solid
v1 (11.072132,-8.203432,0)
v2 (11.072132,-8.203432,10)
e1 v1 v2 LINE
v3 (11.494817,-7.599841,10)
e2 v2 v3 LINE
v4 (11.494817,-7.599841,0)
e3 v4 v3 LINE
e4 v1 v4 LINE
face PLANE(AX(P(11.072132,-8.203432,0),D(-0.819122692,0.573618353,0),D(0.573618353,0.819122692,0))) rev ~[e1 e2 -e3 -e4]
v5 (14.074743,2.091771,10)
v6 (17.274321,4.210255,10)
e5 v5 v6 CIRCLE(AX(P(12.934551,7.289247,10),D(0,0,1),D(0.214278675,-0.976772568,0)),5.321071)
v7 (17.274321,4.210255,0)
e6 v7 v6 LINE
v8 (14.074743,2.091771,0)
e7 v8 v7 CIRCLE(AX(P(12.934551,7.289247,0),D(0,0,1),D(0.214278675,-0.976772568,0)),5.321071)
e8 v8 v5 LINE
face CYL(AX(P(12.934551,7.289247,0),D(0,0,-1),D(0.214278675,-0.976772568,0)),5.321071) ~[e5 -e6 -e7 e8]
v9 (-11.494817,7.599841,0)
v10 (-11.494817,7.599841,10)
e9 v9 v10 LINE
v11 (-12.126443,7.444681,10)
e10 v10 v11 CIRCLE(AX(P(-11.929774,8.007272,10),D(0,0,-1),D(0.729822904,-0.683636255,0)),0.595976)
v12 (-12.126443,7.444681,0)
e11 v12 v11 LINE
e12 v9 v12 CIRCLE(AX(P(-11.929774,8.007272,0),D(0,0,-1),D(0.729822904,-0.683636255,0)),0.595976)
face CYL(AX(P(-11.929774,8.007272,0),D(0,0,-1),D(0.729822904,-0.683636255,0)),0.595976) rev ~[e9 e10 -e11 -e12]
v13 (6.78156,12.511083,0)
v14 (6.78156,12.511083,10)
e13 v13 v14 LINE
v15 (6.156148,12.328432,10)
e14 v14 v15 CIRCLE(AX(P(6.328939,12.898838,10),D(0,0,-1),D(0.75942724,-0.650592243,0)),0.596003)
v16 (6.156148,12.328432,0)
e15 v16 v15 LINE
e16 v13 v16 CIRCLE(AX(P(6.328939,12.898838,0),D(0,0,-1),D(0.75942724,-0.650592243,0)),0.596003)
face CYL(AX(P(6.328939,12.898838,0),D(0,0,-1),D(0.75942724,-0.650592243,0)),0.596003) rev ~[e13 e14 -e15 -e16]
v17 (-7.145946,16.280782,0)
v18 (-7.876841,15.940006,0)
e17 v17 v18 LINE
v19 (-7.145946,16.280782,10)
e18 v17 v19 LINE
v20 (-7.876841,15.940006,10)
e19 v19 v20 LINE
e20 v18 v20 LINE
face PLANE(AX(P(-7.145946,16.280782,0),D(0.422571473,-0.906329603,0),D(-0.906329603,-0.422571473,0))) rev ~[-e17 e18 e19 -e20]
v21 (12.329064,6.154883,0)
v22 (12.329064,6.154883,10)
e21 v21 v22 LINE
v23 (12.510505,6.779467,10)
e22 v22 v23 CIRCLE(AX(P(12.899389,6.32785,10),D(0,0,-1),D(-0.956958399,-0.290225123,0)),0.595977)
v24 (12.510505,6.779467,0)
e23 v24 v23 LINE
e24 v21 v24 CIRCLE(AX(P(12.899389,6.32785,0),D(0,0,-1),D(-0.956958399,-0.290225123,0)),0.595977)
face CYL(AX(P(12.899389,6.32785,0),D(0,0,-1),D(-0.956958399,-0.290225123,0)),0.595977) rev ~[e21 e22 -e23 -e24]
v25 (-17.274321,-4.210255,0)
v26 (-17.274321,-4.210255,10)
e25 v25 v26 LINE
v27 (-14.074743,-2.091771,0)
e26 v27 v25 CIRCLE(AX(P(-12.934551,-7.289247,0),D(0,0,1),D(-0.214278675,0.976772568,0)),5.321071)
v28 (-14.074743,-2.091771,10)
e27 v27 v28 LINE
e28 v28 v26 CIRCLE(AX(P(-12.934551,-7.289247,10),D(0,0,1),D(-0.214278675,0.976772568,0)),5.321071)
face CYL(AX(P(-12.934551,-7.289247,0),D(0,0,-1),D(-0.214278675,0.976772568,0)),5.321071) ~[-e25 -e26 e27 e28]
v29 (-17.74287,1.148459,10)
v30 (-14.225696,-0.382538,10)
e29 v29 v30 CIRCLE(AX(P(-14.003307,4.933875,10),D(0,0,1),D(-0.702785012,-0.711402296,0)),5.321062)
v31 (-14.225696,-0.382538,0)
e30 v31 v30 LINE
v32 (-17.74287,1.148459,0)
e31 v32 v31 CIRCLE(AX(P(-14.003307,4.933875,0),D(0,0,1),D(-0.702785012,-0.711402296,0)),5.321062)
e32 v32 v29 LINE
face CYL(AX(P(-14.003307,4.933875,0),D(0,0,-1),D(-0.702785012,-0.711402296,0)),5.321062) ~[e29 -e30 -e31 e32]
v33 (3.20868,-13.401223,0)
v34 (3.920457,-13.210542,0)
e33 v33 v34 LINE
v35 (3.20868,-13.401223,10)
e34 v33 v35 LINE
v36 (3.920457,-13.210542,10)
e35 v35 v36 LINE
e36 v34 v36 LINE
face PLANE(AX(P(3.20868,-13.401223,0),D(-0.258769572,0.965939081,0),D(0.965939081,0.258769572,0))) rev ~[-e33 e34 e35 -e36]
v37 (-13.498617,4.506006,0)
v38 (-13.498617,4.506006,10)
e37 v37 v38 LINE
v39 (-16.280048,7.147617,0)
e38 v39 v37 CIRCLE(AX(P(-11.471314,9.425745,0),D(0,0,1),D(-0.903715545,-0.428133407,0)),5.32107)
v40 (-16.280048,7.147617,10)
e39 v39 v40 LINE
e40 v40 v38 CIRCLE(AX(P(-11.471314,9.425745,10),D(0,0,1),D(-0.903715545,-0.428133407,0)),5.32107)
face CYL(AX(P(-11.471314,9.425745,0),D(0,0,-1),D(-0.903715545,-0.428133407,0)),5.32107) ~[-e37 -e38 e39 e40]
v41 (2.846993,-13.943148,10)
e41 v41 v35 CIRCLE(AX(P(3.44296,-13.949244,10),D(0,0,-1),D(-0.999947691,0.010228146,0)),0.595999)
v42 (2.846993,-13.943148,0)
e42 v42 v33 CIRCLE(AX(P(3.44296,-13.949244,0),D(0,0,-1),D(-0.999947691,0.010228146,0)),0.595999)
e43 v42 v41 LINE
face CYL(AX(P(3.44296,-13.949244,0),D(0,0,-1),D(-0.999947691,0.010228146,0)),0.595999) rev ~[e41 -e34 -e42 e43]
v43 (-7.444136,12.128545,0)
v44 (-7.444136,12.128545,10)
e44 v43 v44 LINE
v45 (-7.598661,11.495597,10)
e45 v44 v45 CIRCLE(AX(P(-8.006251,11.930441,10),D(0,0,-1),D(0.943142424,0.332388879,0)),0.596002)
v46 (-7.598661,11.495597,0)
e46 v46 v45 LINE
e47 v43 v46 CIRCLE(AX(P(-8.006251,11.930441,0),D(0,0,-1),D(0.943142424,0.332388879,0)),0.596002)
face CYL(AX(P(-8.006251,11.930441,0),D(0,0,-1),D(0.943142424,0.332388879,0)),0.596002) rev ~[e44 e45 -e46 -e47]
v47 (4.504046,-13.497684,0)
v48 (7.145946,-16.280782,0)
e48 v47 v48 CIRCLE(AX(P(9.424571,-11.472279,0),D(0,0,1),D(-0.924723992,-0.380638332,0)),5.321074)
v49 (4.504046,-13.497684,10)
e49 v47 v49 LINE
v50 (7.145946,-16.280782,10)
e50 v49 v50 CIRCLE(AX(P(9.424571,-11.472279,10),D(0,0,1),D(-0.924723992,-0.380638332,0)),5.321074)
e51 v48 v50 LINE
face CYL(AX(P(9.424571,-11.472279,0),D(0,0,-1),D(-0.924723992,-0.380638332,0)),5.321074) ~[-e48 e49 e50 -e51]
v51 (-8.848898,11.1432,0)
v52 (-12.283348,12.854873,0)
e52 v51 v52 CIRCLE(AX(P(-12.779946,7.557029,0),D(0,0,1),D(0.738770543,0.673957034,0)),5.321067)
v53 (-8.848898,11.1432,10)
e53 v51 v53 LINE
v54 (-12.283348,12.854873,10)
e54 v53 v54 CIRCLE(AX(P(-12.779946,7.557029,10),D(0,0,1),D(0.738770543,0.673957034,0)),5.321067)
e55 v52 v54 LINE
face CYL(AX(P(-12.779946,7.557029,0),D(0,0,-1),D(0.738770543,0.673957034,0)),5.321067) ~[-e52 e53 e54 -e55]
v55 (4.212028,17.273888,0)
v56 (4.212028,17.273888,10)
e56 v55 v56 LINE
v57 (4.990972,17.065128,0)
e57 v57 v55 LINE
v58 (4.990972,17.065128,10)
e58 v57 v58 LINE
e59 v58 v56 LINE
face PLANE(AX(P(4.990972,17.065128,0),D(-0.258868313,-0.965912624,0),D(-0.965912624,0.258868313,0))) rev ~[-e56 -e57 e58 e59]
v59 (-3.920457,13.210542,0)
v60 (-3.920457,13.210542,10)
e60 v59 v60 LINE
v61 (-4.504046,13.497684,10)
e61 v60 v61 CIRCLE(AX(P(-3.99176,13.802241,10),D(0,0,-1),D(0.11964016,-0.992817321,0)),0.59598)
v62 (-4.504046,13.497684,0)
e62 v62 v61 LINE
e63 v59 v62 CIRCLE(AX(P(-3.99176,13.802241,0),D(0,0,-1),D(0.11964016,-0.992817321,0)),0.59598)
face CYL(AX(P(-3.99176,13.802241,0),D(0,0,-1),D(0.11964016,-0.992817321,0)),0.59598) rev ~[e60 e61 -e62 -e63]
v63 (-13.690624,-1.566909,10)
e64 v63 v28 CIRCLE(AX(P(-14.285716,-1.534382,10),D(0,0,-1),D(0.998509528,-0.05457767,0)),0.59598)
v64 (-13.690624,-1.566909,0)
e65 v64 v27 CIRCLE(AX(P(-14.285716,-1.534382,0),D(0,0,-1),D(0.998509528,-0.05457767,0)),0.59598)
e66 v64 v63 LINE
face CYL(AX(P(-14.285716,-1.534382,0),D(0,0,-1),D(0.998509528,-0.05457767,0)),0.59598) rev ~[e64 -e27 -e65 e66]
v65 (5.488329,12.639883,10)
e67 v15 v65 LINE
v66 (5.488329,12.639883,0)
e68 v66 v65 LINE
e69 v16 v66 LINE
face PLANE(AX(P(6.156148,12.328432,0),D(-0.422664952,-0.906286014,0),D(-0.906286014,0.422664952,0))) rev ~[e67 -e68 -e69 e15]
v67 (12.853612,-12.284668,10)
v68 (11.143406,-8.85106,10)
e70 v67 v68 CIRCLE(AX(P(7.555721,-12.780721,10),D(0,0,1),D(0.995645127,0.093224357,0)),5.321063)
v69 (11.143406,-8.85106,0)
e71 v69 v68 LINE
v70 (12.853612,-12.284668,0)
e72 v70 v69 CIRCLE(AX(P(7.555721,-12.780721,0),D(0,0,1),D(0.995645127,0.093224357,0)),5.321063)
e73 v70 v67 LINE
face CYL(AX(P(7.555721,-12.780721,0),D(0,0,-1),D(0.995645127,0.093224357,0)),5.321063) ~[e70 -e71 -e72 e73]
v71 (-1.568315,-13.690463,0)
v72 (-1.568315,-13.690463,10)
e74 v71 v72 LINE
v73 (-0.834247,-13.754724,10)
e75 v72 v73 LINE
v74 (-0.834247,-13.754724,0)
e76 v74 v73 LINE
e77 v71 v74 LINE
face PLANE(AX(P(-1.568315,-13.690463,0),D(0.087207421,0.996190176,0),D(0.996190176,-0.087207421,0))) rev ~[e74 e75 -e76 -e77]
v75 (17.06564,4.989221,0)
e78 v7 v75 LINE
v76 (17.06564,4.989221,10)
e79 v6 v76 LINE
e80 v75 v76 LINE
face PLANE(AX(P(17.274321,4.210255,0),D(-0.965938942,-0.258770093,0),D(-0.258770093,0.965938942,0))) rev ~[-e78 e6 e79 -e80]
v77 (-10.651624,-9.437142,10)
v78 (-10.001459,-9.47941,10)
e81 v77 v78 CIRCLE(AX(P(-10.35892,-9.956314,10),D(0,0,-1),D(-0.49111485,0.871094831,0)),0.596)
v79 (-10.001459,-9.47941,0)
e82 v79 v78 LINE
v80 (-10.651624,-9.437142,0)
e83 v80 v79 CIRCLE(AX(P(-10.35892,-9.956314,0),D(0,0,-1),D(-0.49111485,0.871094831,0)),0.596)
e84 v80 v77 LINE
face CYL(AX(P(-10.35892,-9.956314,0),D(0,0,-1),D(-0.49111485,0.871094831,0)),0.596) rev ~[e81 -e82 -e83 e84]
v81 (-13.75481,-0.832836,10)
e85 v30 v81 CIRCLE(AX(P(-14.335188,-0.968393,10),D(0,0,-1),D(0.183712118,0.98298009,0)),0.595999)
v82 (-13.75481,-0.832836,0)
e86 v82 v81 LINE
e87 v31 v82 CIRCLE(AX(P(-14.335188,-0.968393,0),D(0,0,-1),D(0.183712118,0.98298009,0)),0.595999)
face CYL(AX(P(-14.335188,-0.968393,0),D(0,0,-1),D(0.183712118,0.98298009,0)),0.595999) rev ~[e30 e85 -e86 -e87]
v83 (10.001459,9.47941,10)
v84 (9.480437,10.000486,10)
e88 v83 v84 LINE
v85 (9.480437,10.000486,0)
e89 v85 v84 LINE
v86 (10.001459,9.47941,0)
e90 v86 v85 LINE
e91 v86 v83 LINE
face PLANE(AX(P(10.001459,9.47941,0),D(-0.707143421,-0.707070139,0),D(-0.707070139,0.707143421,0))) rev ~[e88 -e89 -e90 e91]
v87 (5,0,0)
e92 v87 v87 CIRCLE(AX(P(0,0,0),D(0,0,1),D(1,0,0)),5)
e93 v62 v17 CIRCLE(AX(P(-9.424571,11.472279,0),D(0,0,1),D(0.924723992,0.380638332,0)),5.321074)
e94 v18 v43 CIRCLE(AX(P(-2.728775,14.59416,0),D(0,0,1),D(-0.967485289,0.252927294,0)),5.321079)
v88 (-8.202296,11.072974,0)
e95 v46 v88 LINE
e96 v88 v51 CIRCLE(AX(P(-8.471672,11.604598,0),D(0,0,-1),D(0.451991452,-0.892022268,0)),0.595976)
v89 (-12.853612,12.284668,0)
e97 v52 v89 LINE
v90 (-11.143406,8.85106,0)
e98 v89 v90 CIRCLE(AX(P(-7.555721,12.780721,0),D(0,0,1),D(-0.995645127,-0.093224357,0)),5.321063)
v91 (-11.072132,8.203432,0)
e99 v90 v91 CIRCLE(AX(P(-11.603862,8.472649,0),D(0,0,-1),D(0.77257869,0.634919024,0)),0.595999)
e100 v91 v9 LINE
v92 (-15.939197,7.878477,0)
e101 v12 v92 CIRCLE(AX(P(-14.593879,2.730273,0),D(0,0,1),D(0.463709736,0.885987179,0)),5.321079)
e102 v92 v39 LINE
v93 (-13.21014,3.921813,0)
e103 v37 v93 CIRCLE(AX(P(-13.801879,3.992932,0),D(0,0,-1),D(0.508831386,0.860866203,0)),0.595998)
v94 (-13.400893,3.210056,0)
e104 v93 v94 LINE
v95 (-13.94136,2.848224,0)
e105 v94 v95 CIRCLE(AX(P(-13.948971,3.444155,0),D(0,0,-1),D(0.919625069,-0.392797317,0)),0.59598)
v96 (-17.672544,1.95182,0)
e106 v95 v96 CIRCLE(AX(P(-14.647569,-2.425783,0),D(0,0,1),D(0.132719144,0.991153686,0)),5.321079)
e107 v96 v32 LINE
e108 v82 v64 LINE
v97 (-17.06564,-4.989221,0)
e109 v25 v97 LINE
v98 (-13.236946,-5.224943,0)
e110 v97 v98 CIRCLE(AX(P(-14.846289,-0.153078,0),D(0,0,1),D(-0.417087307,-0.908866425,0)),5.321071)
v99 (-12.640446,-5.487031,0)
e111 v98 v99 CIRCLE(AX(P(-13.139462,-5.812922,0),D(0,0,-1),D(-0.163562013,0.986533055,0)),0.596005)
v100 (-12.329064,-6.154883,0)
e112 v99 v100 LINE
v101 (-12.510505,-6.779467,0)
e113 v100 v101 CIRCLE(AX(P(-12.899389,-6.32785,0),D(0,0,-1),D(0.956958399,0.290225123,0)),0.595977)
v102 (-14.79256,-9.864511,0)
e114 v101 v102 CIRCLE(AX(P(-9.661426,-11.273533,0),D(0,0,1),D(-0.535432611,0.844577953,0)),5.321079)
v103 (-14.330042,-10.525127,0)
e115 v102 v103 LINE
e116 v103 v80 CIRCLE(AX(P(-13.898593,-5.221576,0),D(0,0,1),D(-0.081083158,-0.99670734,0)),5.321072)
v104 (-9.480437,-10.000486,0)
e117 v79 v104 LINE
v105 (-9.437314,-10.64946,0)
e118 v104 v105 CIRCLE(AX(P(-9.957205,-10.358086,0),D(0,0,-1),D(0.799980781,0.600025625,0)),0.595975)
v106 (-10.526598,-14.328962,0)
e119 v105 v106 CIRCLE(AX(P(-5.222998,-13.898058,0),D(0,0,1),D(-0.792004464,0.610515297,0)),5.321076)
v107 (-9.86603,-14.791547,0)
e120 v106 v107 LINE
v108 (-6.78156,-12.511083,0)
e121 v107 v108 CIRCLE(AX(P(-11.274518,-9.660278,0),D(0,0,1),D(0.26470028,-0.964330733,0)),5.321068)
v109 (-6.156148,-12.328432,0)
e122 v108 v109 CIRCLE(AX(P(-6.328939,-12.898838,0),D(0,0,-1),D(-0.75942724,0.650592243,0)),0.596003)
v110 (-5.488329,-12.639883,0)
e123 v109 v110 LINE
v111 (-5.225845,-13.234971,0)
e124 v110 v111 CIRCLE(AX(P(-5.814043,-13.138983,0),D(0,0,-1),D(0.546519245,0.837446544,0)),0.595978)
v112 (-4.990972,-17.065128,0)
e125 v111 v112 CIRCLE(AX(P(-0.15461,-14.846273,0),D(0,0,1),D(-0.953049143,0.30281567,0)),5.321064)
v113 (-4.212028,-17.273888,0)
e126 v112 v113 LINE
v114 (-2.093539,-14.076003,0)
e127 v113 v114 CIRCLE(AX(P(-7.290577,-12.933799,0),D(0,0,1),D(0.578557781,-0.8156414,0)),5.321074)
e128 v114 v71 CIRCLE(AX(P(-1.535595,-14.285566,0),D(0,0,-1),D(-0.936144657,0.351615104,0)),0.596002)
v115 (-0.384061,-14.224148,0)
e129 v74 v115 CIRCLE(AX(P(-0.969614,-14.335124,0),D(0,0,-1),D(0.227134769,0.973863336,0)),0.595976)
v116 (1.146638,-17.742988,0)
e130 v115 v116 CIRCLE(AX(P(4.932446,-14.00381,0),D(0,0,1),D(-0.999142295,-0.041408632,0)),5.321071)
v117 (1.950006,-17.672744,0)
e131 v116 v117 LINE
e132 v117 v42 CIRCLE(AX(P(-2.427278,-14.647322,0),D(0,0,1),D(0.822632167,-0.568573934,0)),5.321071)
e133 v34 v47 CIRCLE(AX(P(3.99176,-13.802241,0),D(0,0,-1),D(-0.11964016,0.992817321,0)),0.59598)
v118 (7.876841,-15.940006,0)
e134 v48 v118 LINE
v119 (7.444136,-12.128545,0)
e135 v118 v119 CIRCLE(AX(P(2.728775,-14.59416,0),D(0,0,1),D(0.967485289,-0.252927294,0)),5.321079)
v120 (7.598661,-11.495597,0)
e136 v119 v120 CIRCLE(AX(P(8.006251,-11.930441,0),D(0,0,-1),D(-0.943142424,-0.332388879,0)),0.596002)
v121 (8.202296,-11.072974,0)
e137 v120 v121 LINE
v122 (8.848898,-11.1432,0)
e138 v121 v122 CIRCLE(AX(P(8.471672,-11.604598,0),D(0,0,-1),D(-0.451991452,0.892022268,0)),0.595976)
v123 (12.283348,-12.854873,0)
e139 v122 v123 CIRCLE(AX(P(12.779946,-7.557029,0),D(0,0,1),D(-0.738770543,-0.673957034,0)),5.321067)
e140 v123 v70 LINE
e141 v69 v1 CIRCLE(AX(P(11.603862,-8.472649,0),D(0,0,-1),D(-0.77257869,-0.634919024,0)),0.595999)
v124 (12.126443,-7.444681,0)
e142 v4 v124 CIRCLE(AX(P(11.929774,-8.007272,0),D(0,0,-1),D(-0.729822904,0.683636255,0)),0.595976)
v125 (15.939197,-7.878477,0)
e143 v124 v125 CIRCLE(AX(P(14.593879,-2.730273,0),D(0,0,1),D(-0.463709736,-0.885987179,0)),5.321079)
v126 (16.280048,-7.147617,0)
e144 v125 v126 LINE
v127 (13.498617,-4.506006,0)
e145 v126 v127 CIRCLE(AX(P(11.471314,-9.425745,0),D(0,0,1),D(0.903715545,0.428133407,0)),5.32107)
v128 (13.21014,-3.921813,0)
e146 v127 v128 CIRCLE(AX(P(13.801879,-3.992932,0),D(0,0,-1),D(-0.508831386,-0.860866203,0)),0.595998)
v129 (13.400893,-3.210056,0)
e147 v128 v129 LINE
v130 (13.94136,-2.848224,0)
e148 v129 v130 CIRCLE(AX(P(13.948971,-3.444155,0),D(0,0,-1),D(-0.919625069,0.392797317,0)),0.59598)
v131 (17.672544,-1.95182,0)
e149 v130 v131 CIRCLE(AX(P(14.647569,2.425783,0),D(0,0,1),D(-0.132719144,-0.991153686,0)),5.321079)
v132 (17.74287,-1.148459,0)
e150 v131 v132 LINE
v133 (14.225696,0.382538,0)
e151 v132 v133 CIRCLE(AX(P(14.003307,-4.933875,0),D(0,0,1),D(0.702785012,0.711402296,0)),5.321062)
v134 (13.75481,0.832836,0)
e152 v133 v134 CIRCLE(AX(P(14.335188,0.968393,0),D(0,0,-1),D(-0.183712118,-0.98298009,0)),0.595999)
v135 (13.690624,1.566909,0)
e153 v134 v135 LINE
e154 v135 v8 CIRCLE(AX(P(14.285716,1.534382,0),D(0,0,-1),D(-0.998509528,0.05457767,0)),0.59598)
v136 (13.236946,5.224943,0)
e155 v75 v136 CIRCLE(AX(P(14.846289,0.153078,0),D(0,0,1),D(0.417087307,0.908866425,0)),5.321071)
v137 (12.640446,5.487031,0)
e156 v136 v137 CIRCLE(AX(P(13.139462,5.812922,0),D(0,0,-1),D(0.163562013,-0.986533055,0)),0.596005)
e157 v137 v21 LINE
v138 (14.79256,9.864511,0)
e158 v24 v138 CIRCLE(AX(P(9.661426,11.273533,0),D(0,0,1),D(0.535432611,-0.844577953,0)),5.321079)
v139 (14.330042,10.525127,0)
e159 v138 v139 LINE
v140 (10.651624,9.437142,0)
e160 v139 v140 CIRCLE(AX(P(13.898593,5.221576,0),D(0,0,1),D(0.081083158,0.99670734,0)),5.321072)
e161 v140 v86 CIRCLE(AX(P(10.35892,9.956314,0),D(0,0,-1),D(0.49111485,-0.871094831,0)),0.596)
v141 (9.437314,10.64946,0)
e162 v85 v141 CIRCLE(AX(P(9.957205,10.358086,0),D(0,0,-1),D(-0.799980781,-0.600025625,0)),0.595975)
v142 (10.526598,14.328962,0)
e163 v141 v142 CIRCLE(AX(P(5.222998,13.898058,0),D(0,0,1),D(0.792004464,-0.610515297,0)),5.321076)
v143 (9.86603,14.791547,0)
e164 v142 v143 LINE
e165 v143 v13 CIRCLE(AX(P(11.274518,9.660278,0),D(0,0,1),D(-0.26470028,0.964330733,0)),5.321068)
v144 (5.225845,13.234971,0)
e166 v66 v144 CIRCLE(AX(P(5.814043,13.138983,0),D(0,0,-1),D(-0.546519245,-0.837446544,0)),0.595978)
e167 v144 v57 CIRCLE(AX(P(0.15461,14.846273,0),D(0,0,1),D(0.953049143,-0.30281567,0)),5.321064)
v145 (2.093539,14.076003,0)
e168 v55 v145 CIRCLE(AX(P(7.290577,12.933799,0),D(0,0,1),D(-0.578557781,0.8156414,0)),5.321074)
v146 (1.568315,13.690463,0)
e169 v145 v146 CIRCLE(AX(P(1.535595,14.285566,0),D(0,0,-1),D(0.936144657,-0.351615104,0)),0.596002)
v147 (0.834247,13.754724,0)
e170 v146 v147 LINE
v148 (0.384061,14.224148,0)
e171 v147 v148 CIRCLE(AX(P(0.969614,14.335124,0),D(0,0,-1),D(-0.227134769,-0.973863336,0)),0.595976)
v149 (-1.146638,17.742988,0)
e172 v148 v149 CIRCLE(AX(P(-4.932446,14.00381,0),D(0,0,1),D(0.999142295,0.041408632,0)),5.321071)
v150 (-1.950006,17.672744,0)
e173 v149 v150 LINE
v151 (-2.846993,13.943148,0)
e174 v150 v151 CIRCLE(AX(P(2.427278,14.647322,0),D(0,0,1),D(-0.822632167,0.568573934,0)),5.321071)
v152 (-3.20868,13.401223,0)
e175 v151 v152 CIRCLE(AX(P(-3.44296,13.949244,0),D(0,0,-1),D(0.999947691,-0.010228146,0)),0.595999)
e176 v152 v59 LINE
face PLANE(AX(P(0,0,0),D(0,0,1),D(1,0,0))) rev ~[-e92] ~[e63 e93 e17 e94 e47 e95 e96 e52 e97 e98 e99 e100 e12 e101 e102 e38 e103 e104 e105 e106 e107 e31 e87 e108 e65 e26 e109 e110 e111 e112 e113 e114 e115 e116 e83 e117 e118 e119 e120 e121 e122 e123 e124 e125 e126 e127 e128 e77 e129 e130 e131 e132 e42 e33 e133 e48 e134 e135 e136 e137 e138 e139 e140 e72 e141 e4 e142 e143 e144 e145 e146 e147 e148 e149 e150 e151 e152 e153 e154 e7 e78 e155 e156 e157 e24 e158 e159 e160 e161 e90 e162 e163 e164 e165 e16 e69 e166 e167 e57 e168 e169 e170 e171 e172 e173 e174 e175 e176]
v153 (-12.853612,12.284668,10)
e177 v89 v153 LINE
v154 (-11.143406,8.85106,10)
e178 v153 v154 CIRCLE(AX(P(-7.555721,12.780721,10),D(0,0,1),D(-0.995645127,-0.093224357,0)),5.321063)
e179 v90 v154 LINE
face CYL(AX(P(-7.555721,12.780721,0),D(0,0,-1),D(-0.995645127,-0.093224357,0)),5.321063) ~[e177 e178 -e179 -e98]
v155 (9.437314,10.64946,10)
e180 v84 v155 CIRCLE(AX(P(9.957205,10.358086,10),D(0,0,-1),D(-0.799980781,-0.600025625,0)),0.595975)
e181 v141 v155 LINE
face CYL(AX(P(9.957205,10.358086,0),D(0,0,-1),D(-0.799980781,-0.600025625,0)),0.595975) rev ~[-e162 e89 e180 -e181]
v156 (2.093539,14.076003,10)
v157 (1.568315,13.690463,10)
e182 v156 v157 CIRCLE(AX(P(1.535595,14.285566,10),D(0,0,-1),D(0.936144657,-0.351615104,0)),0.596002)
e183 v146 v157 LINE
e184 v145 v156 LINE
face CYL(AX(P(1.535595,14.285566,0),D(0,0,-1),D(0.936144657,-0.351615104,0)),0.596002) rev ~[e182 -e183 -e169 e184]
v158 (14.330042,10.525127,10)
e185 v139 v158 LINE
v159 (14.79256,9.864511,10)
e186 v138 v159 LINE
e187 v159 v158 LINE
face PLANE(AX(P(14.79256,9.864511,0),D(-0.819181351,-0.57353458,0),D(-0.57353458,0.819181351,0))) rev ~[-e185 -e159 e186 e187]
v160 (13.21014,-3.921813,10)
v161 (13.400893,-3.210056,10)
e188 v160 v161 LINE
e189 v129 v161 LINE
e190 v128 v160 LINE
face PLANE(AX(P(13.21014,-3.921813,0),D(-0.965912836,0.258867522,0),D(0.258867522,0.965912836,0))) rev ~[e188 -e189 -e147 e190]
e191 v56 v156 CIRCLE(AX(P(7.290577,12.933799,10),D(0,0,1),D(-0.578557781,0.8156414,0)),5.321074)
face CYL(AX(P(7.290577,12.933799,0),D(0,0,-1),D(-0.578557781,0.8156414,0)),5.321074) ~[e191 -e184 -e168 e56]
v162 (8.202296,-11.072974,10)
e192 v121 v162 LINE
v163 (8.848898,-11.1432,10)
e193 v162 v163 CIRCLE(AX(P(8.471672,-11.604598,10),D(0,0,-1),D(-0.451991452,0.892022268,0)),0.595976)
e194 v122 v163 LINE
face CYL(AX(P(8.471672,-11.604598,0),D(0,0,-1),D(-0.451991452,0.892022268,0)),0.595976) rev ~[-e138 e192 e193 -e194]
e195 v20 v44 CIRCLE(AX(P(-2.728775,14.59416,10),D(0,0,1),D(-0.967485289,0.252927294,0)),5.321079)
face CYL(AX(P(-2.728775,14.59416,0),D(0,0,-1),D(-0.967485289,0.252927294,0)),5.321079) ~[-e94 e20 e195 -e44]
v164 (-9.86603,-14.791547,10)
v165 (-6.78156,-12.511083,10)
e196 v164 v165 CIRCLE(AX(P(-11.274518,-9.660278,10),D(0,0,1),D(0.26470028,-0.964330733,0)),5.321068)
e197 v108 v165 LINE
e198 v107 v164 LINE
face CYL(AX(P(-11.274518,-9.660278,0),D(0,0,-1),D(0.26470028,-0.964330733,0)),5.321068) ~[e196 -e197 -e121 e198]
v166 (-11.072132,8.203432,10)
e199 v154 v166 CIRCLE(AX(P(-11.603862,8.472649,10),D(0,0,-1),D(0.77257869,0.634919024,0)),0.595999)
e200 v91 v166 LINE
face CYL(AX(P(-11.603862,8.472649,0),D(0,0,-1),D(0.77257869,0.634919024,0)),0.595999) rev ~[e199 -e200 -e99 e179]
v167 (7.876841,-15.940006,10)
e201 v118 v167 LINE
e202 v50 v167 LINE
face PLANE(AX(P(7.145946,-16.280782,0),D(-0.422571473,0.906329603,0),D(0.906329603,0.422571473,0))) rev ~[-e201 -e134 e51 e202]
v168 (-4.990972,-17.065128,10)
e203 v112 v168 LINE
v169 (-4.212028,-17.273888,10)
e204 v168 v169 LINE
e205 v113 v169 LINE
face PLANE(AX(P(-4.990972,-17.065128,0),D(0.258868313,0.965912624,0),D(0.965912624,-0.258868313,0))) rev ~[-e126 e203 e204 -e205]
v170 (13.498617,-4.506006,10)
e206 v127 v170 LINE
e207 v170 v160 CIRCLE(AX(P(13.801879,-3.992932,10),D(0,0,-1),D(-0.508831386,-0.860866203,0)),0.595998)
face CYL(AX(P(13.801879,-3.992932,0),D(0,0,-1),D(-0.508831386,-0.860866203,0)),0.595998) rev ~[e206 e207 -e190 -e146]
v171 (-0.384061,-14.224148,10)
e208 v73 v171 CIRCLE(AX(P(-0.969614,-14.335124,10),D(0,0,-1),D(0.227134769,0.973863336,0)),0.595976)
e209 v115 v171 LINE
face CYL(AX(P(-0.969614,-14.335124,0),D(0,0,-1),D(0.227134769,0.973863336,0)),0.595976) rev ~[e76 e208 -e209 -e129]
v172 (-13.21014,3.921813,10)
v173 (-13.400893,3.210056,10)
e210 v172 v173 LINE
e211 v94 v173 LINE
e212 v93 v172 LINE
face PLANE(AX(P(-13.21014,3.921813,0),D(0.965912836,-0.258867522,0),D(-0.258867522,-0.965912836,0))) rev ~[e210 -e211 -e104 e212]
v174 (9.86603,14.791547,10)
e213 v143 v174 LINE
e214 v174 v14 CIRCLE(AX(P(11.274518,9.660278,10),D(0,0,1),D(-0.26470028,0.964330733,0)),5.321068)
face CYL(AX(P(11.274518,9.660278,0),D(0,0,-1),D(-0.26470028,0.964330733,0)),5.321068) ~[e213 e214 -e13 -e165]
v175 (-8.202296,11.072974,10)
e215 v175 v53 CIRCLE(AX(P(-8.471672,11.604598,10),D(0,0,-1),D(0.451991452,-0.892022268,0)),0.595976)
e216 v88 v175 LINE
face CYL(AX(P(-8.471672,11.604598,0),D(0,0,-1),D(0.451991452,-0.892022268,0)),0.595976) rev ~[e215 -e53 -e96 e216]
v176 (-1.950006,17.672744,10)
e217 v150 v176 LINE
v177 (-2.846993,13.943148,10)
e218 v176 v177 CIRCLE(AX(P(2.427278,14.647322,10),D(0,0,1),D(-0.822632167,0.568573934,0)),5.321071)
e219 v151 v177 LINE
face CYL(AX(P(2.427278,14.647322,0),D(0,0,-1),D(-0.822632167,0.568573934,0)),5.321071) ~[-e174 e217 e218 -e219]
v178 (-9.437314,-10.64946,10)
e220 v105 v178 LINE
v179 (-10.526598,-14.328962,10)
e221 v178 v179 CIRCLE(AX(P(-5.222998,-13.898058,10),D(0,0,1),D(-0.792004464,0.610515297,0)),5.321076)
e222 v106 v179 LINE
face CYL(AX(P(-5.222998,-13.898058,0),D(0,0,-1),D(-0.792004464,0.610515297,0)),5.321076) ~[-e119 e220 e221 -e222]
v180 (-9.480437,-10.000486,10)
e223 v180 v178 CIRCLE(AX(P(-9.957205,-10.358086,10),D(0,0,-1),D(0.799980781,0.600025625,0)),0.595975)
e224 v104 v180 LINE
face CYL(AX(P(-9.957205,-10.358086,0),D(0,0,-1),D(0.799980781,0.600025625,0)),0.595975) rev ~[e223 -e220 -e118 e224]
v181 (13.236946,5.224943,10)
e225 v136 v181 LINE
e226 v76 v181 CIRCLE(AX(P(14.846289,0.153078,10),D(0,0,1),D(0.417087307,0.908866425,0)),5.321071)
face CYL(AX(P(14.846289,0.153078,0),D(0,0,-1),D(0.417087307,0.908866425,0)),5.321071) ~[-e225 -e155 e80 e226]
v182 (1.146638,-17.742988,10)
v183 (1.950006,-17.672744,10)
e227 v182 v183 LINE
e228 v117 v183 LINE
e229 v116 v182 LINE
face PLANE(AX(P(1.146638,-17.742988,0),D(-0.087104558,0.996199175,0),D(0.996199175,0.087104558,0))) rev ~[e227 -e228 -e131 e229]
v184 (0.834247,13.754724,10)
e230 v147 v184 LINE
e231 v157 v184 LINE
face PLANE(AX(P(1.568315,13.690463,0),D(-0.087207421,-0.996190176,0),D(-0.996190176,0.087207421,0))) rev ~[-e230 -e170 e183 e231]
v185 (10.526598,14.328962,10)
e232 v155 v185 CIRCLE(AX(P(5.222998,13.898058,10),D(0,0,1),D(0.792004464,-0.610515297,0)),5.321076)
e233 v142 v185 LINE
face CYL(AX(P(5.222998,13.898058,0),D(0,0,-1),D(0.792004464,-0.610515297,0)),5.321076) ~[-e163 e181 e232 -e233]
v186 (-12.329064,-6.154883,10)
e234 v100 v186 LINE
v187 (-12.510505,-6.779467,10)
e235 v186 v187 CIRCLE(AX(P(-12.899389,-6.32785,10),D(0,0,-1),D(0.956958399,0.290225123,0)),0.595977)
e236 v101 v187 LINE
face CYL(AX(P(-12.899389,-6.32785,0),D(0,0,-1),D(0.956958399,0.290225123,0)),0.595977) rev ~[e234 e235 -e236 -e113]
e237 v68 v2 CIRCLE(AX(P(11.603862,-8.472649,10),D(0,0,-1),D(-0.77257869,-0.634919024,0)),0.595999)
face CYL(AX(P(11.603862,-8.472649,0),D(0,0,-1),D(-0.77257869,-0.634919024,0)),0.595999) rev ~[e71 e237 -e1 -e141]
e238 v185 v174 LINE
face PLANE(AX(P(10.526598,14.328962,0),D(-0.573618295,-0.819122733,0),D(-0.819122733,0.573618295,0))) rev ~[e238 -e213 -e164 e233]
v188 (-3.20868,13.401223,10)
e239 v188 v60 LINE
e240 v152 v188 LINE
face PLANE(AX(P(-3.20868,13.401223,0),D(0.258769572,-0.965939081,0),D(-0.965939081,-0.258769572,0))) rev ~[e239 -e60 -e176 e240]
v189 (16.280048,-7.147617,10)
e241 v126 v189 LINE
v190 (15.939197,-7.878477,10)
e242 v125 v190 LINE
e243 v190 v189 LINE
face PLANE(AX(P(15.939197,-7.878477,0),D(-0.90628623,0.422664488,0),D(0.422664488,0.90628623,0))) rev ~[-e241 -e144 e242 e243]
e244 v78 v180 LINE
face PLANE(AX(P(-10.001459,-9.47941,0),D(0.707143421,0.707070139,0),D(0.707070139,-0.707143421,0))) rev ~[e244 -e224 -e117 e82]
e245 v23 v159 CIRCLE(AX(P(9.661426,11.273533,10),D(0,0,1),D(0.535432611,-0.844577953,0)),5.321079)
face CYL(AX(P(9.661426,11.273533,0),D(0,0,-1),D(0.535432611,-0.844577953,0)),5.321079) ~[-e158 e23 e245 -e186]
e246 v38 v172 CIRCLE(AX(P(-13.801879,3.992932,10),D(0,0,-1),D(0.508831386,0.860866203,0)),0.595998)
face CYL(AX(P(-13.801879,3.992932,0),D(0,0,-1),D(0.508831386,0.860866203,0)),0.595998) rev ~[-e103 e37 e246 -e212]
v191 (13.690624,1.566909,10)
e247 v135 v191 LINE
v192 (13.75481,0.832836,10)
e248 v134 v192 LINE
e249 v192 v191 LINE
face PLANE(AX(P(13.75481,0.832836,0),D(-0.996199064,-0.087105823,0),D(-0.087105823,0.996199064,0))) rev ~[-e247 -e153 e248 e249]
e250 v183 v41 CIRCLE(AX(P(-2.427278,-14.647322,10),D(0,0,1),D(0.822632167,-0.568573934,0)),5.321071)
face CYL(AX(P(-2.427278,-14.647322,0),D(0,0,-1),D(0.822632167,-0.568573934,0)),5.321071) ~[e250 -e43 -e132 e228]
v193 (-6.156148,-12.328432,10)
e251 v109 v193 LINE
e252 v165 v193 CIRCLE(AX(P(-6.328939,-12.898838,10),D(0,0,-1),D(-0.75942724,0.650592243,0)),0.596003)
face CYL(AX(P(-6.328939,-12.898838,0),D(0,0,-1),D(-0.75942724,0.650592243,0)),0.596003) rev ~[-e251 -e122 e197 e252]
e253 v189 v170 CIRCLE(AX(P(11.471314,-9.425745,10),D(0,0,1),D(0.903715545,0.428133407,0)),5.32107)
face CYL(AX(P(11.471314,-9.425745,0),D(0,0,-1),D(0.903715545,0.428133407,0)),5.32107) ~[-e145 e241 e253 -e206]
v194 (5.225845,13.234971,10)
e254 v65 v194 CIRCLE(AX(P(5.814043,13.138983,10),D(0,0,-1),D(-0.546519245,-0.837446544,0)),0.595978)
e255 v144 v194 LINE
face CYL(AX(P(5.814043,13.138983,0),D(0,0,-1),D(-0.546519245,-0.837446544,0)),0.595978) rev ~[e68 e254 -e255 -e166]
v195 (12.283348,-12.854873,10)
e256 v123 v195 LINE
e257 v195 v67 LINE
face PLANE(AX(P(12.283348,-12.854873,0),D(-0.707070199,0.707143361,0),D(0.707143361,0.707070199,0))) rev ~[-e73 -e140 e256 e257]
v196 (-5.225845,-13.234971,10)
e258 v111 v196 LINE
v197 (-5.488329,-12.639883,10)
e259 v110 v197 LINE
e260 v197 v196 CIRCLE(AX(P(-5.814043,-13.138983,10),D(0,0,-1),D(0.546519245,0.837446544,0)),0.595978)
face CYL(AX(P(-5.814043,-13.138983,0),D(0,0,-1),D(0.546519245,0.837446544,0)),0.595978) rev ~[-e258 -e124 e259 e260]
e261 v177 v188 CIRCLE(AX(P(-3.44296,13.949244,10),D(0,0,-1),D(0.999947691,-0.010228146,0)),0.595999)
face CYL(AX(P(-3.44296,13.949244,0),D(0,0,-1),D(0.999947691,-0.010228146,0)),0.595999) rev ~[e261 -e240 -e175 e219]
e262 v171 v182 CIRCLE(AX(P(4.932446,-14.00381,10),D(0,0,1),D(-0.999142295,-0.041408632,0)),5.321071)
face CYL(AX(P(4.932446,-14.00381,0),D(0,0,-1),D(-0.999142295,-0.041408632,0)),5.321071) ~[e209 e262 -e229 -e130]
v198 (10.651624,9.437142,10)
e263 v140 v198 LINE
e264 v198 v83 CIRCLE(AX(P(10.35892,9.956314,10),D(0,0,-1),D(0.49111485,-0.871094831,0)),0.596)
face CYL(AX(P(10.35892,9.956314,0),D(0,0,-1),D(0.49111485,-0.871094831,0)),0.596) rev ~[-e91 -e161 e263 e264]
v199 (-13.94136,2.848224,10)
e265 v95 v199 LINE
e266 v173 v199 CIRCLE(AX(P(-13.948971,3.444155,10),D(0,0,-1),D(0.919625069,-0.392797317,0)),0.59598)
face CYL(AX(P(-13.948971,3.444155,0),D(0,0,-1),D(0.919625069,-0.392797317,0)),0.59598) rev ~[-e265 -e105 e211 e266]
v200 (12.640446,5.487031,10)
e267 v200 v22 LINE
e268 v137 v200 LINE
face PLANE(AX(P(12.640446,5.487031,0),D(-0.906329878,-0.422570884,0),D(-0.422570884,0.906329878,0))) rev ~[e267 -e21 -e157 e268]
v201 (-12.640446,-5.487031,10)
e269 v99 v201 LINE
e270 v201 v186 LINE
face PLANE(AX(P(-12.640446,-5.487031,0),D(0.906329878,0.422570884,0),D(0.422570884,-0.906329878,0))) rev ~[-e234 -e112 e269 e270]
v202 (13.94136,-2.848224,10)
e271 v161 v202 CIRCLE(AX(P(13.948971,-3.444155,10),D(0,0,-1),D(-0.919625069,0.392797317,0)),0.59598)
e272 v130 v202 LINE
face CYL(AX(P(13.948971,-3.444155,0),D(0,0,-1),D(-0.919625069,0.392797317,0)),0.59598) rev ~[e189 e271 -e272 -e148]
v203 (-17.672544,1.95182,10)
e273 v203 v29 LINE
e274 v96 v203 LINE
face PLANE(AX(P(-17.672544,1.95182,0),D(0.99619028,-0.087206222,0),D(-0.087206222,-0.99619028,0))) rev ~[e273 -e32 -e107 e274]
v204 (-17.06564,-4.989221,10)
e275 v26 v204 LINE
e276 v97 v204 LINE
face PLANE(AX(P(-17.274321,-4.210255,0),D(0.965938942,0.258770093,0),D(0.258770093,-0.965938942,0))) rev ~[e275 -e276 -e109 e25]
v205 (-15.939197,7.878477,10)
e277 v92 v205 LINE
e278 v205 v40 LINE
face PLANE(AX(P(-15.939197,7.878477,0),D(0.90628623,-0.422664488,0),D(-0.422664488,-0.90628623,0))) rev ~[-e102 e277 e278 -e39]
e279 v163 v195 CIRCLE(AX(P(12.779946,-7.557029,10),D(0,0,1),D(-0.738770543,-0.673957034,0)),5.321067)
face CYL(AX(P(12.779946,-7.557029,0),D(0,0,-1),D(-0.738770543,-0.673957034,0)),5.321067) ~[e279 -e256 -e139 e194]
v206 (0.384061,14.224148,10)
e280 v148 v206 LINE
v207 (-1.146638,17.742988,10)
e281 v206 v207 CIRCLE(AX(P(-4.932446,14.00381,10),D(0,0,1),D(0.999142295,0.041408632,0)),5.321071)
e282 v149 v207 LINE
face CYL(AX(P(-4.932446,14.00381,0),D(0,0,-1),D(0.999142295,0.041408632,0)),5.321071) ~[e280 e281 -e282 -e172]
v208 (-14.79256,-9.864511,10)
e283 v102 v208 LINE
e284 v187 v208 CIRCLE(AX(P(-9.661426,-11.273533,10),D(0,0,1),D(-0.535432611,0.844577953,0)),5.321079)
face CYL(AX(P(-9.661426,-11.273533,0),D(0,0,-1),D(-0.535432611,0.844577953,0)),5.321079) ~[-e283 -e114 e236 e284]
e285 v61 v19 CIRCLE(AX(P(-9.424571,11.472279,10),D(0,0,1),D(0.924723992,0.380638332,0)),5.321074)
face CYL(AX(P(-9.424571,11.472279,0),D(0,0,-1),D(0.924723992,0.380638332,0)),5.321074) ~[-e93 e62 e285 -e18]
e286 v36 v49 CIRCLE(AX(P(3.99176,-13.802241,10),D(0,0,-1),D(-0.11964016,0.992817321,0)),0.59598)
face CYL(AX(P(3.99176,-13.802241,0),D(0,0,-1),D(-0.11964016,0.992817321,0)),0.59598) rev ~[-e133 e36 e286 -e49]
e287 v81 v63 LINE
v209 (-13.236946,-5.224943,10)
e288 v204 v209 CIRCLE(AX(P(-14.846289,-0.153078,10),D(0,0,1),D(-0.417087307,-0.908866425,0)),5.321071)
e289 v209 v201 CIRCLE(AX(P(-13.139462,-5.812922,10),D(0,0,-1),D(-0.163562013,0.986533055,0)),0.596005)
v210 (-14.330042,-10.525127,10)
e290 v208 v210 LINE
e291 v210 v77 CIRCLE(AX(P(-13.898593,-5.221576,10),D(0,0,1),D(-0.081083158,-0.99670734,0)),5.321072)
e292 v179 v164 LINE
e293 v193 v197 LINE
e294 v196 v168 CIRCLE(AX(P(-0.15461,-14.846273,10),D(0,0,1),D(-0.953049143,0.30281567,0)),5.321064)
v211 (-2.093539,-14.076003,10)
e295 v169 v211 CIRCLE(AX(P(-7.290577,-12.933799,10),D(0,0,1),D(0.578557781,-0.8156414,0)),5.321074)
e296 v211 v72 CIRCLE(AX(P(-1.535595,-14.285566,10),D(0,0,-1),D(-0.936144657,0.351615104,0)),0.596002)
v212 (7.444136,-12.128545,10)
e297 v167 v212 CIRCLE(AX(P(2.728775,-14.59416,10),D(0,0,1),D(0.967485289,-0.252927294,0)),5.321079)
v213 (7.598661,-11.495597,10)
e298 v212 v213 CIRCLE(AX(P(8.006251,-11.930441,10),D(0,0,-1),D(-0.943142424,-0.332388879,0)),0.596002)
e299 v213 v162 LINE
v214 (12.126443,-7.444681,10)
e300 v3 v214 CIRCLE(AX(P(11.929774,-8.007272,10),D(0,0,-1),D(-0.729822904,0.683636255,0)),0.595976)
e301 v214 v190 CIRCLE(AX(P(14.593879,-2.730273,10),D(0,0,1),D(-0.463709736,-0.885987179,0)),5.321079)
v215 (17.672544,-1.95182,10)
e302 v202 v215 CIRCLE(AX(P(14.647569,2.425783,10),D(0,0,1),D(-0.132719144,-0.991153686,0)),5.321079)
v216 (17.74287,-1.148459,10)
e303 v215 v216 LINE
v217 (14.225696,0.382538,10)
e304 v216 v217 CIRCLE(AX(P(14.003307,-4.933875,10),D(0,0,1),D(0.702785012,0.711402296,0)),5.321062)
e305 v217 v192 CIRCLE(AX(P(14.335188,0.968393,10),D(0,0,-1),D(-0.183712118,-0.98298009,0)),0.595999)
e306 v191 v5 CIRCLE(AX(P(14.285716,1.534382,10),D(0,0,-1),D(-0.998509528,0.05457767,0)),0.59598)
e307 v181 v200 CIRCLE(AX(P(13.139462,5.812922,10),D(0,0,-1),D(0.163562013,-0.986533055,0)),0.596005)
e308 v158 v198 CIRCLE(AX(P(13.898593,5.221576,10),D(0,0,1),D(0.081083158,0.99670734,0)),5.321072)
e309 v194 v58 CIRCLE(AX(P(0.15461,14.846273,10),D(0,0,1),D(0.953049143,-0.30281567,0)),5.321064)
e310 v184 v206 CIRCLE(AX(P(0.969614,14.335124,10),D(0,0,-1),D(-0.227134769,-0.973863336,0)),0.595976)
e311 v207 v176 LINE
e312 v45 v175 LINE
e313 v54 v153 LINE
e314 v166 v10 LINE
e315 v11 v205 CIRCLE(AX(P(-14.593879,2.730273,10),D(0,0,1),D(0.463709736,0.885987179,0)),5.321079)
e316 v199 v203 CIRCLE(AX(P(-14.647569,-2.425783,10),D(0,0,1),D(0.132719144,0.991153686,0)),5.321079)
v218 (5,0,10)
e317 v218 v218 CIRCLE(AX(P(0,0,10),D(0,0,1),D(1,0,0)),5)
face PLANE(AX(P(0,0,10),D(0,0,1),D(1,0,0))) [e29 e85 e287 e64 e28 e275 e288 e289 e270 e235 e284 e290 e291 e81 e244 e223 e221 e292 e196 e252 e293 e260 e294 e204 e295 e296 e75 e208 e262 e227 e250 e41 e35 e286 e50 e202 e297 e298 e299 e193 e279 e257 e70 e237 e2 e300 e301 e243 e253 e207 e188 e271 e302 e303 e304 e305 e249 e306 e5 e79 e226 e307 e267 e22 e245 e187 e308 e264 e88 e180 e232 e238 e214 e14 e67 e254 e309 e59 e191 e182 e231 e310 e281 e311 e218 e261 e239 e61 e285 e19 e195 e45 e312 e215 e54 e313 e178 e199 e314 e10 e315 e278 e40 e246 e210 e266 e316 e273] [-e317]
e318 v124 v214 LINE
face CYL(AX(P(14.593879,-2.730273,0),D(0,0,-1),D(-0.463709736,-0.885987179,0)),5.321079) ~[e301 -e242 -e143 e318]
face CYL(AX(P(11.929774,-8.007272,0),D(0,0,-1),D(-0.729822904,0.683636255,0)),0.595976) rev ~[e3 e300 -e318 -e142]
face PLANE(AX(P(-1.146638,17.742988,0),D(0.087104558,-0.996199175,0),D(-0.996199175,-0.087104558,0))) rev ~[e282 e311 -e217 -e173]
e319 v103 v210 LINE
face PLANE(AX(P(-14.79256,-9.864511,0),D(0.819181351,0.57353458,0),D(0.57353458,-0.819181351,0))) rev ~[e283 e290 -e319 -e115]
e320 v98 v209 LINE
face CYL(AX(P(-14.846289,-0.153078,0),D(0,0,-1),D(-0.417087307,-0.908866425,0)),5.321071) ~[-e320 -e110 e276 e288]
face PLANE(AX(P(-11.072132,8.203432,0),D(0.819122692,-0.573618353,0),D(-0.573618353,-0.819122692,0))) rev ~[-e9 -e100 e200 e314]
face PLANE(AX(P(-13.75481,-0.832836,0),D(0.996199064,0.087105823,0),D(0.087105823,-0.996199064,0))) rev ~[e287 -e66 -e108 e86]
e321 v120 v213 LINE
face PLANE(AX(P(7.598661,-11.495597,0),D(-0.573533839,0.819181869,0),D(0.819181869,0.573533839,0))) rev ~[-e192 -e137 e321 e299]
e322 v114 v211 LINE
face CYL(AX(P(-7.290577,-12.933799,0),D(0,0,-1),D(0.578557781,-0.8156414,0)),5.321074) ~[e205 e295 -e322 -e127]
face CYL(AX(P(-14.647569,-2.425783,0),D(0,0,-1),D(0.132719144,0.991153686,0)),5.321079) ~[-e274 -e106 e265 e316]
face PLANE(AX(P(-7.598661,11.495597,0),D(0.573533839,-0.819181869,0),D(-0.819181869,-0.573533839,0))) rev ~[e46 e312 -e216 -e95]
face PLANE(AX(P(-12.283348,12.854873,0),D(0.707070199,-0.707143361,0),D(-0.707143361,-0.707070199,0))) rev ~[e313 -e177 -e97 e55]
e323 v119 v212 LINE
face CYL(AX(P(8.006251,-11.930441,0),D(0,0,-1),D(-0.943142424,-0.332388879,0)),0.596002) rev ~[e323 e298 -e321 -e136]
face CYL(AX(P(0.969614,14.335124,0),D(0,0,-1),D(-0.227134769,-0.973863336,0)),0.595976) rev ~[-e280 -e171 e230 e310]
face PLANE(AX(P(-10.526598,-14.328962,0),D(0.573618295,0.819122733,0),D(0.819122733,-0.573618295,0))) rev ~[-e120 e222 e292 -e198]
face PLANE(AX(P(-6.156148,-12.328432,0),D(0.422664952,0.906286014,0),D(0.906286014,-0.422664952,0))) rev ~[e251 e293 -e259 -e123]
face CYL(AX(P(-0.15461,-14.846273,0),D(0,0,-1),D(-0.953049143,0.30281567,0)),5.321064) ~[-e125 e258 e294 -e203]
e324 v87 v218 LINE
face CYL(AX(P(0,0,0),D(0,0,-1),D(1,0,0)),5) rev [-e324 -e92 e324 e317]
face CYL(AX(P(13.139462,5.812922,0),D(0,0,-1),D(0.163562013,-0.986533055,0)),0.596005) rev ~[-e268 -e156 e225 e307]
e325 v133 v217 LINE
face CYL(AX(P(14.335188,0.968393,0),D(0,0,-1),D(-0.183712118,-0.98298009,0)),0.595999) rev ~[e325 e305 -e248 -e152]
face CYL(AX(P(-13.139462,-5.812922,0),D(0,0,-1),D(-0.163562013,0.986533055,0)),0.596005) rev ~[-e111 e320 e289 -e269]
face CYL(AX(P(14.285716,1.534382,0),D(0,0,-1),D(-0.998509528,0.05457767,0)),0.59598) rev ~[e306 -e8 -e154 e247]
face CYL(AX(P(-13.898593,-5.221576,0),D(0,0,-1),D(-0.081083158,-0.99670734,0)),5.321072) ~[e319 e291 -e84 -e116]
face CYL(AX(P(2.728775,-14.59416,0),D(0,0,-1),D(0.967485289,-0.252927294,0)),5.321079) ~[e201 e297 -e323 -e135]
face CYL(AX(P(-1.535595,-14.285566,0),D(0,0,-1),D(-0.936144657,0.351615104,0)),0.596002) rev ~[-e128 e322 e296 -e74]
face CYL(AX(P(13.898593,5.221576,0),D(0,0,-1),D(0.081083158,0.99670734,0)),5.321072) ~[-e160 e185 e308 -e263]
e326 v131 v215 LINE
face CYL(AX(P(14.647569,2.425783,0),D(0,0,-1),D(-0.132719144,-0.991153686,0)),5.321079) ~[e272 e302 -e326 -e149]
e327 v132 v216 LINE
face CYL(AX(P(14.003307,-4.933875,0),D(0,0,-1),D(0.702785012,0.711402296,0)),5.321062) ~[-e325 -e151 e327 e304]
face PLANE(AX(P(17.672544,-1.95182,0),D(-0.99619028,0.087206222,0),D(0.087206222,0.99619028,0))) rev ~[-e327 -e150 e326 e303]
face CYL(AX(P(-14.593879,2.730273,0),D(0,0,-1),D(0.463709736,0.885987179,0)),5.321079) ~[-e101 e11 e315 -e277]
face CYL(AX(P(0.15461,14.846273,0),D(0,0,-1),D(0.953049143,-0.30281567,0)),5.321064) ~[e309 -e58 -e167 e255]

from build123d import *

# Parameters (mm, degrees)
F0_R     = 5
F1_DEPTH = 10


with BuildPart() as f1:
    # F0 (on Top) → F1 (new body)
    with BuildSketch(Plane.XY):
        with BuildLine():
            ThreePointArc((0.834247, 13.754724), (0.539473, 13.922611), (0.384061, 14.224148))
            ThreePointArc((0.384061, 14.224148), (-0.053041, 16.126356), (-1.146638, 17.742988))
            Line((-1.146638, 17.742988), (-1.950006, 17.672744))
            ThreePointArc((-1.950006, 17.672744), (-2.74627, 15.891587), (-2.846993, 13.943148))
            ThreePointArc((-2.846993, 13.943148), (-2.94723, 13.618388), (-3.20868, 13.401223))
            Line((-3.20868, 13.401223), (-3.920457, 13.210542))
            ThreePointArc((-3.920457, 13.210542), (-4.254874, 13.267486), (-4.504046, 13.497684))
            ThreePointArc((-4.504046, 13.497684), (-5.565381, 15.135677), (-7.145946, 16.280782))
            Line((-7.145946, 16.280782), (-7.876841, 15.940006))
            ThreePointArc((-7.876841, 15.940006), (-8.015892, 13.993927), (-7.444136, 12.128545))
            ThreePointArc((-7.444136, 12.128545), (-7.427254, 11.789086), (-7.598661, 11.495597))
            Line((-7.598661, 11.495597), (-8.202296, 11.072974))
            ThreePointArc((-8.202296, 11.072974), (-8.536021, 11.012106), (-8.848898, 11.1432))
            ThreePointArc((-8.848898, 11.1432), (-10.406453, 12.319412), (-12.283348, 12.854873))
            Line((-12.283348, 12.854873), (-12.853612, 12.284668))
            ThreePointArc((-12.853612, 12.284668), (-12.31868, 10.408393), (-11.143406, 8.85106))
            ThreePointArc((-11.143406, 8.85106), (-11.01144, 8.537847), (-11.072132, 8.203432))
            Line((-11.072132, 8.203432), (-11.494817, 7.599841))
            ThreePointArc((-11.494817, 7.599841), (-11.787598, 7.428503), (-12.126443, 7.444681))
            ThreePointArc((-12.126443, 7.444681), (-13.992354, 8.017243), (-15.939197, 7.878477))
            Line((-15.939197, 7.878477), (-16.280048, 7.147617))
            ThreePointArc((-16.280048, 7.147617), (-15.135653, 5.567454), (-13.498617, 4.506006))
            ThreePointArc((-13.498617, 4.506006), (-13.267485, 4.256818), (-13.21014, 3.921813))
            Line((-13.21014, 3.921813), (-13.400893, 3.210056))
            ThreePointArc((-13.400893, 3.210056), (-13.617417, 2.948914), (-13.94136, 2.848224))
            ThreePointArc((-13.94136, 2.848224), (-15.890571, 2.748077), (-17.672544, 1.95182))
            Line((-17.672544, 1.95182), (-17.74287, 1.148459))
            ThreePointArc((-17.74287, 1.148459), (-16.127043, 0.054997), (-14.225696, -0.382538))
            ThreePointArc((-14.225696, -0.382538), (-13.923275, -0.537647), (-13.75481, -0.832836))
            Line((-13.75481, -0.832836), (-13.690624, -1.566909))
            ThreePointArc((-13.690624, -1.566909), (-13.804774, -1.886358), (-14.074743, -2.091771))
            ThreePointArc((-14.074743, -2.091771), (-15.87215, -2.852547), (-17.274321, -4.210255))
            Line((-17.274321, -4.210255), (-17.06564, -4.989221))
            ThreePointArc((-17.06564, -4.989221), (-15.173273, -5.464093), (-13.236946, -5.224943))
            ThreePointArc((-13.236946, -5.224943), (-12.899713, -5.267264), (-12.640446, -5.487031))
            Line((-12.640446, -5.487031), (-12.329064, -6.154883))
            ThreePointArc((-12.329064, -6.154883), (-12.327072, -6.494108), (-12.510505, -6.779467))
            ThreePointArc((-12.510505, -6.779467), (-13.939314, -8.109113), (-14.79256, -9.864511))
            Line((-14.79256, -9.864511), (-14.330042, -10.525127))
            ThreePointArc((-14.330042, -10.525127), (-12.389383, -10.324133), (-10.651624, -9.437142))
            ThreePointArc((-10.651624, -9.437142), (-10.320255, -9.36157), (-10.001459, -9.47941))
            Line((-10.001459, -9.47941), (-9.480437, -10.000486))
            ThreePointArc((-9.480437, -10.000486), (-9.362542, -10.318572), (-9.437314, -10.64946))
            ThreePointArc((-9.437314, -10.64946), (-10.32519, -12.387599), (-10.526598, -14.328962))
            Line((-10.526598, -14.328962), (-9.86603, -14.791547))
            ThreePointArc((-9.86603, -14.791547), (-8.11115, -13.93893), (-6.78156, -12.511083))
            ThreePointArc((-6.78156, -12.511083), (-6.496022, -12.326734), (-6.156148, -12.328432))
            Line((-6.156148, -12.328432), (-5.488329, -12.639883))
            ThreePointArc((-5.488329, -12.639883), (-5.268753, -12.898464), (-5.225845, -13.234971))
            ThreePointArc((-5.225845, -13.234971), (-5.465697, -15.171959), (-4.990972, -17.065128))
            Line((-4.990972, -17.065128), (-4.212028, -17.273888))
            ThreePointArc((-4.212028, -17.273888), (-2.854593, -15.872486), (-2.093539, -14.076003))
            ThreePointArc((-2.093539, -14.076003), (-1.888272, -13.805111), (-1.568315, -13.690463))
            Line((-1.568315, -13.690463), (-0.834247, -13.754724))
            ThreePointArc((-0.834247, -13.754724), (-0.539473, -13.922611), (-0.384061, -14.224148))
            ThreePointArc((-0.384061, -14.224148), (0.053041, -16.126356), (1.146638, -17.742988))
            Line((1.146638, -17.742988), (1.950006, -17.672744))
            ThreePointArc((1.950006, -17.672744), (2.74627, -15.891587), (2.846993, -13.943148))
            ThreePointArc((2.846993, -13.943148), (2.94723, -13.618388), (3.20868, -13.401223))
            Line((3.20868, -13.401223), (3.920457, -13.210542))
            ThreePointArc((3.920457, -13.210542), (4.254874, -13.267486), (4.504046, -13.497684))
            ThreePointArc((4.504046, -13.497684), (5.565381, -15.135677), (7.145946, -16.280782))
            Line((7.145946, -16.280782), (7.876841, -15.940006))
            ThreePointArc((7.876841, -15.940006), (8.015892, -13.993927), (7.444136, -12.128545))
            ThreePointArc((7.444136, -12.128545), (7.427254, -11.789086), (7.598661, -11.495597))
            Line((7.598661, -11.495597), (8.202296, -11.072974))
            ThreePointArc((8.202296, -11.072974), (8.536021, -11.012106), (8.848898, -11.1432))
            ThreePointArc((8.848898, -11.1432), (10.406453, -12.319412), (12.283348, -12.854873))
            Line((12.283348, -12.854873), (12.853612, -12.284668))
            ThreePointArc((12.853612, -12.284668), (12.31868, -10.408393), (11.143406, -8.85106))
            ThreePointArc((11.143406, -8.85106), (11.01144, -8.537847), (11.072132, -8.203432))
            Line((11.072132, -8.203432), (11.494817, -7.599841))
            ThreePointArc((11.494817, -7.599841), (11.787598, -7.428503), (12.126443, -7.444681))
            ThreePointArc((12.126443, -7.444681), (13.992354, -8.017243), (15.939197, -7.878477))
            Line((15.939197, -7.878477), (16.280048, -7.147617))
            ThreePointArc((16.280048, -7.147617), (15.135653, -5.567454), (13.498617, -4.506006))
            ThreePointArc((13.498617, -4.506006), (13.267485, -4.256818), (13.21014, -3.921813))
            Line((13.21014, -3.921813), (13.400893, -3.210056))
            ThreePointArc((13.400893, -3.210056), (13.617417, -2.948914), (13.94136, -2.848224))
            ThreePointArc((13.94136, -2.848224), (15.890571, -2.748077), (17.672544, -1.95182))
            Line((17.672544, -1.95182), (17.74287, -1.148459))
            ThreePointArc((17.74287, -1.148459), (16.127043, -0.054997), (14.225696, 0.382538))
            ThreePointArc((14.225696, 0.382538), (13.923275, 0.537647), (13.75481, 0.832836))
            Line((13.75481, 0.832836), (13.690624, 1.566909))
            ThreePointArc((13.690624, 1.566909), (13.804774, 1.886358), (14.074743, 2.091771))
            ThreePointArc((14.074743, 2.091771), (15.87215, 2.852547), (17.274321, 4.210255))
            Line((17.274321, 4.210255), (17.06564, 4.989221))
            ThreePointArc((17.06564, 4.989221), (15.173273, 5.464093), (13.236946, 5.224943))
            ThreePointArc((13.236946, 5.224943), (12.899713, 5.267264), (12.640446, 5.487031))
            Line((12.640446, 5.487031), (12.329064, 6.154883))
            ThreePointArc((12.329064, 6.154883), (12.327072, 6.494108), (12.510505, 6.779467))
            ThreePointArc((12.510505, 6.779467), (13.939314, 8.109113), (14.79256, 9.864511))
            Line((14.79256, 9.864511), (14.330042, 10.525127))
            ThreePointArc((14.330042, 10.525127), (12.389383, 10.324133), (10.651624, 9.437142))
            ThreePointArc((10.651624, 9.437142), (10.320255, 9.36157), (10.001459, 9.47941))
            Line((10.001459, 9.47941), (9.480437, 10.000486))
            ThreePointArc((9.480437, 10.000486), (9.362542, 10.318572), (9.437314, 10.64946))
            ThreePointArc((9.437314, 10.64946), (10.32519, 12.387599), (10.526598, 14.328962))
            Line((10.526598, 14.328962), (9.86603, 14.791547))
            ThreePointArc((9.86603, 14.791547), (8.11115, 13.93893), (6.78156, 12.511083))
            ThreePointArc((6.78156, 12.511083), (6.496022, 12.326734), (6.156148, 12.328432))
            Line((6.156148, 12.328432), (5.488329, 12.639883))
            ThreePointArc((5.488329, 12.639883), (5.268753, 12.898464), (5.225845, 13.234971))
            ThreePointArc((5.225845, 13.234971), (5.465697, 15.171959), (4.990972, 17.065128))
            Line((4.990972, 17.065128), (4.212028, 17.273888))
            ThreePointArc((4.212028, 17.273888), (2.854593, 15.872486), (2.093539, 14.076003))
            ThreePointArc((2.093539, 14.076003), (1.888272, 13.805111), (1.568315, 13.690463))
            Line((1.568315, 13.690463), (0.834247, 13.754724))
        make_face()
        Circle(F0_R, mode=Mode.SUBTRACT)
    extrude(amount=F1_DEPTH)


solid = f1.part
